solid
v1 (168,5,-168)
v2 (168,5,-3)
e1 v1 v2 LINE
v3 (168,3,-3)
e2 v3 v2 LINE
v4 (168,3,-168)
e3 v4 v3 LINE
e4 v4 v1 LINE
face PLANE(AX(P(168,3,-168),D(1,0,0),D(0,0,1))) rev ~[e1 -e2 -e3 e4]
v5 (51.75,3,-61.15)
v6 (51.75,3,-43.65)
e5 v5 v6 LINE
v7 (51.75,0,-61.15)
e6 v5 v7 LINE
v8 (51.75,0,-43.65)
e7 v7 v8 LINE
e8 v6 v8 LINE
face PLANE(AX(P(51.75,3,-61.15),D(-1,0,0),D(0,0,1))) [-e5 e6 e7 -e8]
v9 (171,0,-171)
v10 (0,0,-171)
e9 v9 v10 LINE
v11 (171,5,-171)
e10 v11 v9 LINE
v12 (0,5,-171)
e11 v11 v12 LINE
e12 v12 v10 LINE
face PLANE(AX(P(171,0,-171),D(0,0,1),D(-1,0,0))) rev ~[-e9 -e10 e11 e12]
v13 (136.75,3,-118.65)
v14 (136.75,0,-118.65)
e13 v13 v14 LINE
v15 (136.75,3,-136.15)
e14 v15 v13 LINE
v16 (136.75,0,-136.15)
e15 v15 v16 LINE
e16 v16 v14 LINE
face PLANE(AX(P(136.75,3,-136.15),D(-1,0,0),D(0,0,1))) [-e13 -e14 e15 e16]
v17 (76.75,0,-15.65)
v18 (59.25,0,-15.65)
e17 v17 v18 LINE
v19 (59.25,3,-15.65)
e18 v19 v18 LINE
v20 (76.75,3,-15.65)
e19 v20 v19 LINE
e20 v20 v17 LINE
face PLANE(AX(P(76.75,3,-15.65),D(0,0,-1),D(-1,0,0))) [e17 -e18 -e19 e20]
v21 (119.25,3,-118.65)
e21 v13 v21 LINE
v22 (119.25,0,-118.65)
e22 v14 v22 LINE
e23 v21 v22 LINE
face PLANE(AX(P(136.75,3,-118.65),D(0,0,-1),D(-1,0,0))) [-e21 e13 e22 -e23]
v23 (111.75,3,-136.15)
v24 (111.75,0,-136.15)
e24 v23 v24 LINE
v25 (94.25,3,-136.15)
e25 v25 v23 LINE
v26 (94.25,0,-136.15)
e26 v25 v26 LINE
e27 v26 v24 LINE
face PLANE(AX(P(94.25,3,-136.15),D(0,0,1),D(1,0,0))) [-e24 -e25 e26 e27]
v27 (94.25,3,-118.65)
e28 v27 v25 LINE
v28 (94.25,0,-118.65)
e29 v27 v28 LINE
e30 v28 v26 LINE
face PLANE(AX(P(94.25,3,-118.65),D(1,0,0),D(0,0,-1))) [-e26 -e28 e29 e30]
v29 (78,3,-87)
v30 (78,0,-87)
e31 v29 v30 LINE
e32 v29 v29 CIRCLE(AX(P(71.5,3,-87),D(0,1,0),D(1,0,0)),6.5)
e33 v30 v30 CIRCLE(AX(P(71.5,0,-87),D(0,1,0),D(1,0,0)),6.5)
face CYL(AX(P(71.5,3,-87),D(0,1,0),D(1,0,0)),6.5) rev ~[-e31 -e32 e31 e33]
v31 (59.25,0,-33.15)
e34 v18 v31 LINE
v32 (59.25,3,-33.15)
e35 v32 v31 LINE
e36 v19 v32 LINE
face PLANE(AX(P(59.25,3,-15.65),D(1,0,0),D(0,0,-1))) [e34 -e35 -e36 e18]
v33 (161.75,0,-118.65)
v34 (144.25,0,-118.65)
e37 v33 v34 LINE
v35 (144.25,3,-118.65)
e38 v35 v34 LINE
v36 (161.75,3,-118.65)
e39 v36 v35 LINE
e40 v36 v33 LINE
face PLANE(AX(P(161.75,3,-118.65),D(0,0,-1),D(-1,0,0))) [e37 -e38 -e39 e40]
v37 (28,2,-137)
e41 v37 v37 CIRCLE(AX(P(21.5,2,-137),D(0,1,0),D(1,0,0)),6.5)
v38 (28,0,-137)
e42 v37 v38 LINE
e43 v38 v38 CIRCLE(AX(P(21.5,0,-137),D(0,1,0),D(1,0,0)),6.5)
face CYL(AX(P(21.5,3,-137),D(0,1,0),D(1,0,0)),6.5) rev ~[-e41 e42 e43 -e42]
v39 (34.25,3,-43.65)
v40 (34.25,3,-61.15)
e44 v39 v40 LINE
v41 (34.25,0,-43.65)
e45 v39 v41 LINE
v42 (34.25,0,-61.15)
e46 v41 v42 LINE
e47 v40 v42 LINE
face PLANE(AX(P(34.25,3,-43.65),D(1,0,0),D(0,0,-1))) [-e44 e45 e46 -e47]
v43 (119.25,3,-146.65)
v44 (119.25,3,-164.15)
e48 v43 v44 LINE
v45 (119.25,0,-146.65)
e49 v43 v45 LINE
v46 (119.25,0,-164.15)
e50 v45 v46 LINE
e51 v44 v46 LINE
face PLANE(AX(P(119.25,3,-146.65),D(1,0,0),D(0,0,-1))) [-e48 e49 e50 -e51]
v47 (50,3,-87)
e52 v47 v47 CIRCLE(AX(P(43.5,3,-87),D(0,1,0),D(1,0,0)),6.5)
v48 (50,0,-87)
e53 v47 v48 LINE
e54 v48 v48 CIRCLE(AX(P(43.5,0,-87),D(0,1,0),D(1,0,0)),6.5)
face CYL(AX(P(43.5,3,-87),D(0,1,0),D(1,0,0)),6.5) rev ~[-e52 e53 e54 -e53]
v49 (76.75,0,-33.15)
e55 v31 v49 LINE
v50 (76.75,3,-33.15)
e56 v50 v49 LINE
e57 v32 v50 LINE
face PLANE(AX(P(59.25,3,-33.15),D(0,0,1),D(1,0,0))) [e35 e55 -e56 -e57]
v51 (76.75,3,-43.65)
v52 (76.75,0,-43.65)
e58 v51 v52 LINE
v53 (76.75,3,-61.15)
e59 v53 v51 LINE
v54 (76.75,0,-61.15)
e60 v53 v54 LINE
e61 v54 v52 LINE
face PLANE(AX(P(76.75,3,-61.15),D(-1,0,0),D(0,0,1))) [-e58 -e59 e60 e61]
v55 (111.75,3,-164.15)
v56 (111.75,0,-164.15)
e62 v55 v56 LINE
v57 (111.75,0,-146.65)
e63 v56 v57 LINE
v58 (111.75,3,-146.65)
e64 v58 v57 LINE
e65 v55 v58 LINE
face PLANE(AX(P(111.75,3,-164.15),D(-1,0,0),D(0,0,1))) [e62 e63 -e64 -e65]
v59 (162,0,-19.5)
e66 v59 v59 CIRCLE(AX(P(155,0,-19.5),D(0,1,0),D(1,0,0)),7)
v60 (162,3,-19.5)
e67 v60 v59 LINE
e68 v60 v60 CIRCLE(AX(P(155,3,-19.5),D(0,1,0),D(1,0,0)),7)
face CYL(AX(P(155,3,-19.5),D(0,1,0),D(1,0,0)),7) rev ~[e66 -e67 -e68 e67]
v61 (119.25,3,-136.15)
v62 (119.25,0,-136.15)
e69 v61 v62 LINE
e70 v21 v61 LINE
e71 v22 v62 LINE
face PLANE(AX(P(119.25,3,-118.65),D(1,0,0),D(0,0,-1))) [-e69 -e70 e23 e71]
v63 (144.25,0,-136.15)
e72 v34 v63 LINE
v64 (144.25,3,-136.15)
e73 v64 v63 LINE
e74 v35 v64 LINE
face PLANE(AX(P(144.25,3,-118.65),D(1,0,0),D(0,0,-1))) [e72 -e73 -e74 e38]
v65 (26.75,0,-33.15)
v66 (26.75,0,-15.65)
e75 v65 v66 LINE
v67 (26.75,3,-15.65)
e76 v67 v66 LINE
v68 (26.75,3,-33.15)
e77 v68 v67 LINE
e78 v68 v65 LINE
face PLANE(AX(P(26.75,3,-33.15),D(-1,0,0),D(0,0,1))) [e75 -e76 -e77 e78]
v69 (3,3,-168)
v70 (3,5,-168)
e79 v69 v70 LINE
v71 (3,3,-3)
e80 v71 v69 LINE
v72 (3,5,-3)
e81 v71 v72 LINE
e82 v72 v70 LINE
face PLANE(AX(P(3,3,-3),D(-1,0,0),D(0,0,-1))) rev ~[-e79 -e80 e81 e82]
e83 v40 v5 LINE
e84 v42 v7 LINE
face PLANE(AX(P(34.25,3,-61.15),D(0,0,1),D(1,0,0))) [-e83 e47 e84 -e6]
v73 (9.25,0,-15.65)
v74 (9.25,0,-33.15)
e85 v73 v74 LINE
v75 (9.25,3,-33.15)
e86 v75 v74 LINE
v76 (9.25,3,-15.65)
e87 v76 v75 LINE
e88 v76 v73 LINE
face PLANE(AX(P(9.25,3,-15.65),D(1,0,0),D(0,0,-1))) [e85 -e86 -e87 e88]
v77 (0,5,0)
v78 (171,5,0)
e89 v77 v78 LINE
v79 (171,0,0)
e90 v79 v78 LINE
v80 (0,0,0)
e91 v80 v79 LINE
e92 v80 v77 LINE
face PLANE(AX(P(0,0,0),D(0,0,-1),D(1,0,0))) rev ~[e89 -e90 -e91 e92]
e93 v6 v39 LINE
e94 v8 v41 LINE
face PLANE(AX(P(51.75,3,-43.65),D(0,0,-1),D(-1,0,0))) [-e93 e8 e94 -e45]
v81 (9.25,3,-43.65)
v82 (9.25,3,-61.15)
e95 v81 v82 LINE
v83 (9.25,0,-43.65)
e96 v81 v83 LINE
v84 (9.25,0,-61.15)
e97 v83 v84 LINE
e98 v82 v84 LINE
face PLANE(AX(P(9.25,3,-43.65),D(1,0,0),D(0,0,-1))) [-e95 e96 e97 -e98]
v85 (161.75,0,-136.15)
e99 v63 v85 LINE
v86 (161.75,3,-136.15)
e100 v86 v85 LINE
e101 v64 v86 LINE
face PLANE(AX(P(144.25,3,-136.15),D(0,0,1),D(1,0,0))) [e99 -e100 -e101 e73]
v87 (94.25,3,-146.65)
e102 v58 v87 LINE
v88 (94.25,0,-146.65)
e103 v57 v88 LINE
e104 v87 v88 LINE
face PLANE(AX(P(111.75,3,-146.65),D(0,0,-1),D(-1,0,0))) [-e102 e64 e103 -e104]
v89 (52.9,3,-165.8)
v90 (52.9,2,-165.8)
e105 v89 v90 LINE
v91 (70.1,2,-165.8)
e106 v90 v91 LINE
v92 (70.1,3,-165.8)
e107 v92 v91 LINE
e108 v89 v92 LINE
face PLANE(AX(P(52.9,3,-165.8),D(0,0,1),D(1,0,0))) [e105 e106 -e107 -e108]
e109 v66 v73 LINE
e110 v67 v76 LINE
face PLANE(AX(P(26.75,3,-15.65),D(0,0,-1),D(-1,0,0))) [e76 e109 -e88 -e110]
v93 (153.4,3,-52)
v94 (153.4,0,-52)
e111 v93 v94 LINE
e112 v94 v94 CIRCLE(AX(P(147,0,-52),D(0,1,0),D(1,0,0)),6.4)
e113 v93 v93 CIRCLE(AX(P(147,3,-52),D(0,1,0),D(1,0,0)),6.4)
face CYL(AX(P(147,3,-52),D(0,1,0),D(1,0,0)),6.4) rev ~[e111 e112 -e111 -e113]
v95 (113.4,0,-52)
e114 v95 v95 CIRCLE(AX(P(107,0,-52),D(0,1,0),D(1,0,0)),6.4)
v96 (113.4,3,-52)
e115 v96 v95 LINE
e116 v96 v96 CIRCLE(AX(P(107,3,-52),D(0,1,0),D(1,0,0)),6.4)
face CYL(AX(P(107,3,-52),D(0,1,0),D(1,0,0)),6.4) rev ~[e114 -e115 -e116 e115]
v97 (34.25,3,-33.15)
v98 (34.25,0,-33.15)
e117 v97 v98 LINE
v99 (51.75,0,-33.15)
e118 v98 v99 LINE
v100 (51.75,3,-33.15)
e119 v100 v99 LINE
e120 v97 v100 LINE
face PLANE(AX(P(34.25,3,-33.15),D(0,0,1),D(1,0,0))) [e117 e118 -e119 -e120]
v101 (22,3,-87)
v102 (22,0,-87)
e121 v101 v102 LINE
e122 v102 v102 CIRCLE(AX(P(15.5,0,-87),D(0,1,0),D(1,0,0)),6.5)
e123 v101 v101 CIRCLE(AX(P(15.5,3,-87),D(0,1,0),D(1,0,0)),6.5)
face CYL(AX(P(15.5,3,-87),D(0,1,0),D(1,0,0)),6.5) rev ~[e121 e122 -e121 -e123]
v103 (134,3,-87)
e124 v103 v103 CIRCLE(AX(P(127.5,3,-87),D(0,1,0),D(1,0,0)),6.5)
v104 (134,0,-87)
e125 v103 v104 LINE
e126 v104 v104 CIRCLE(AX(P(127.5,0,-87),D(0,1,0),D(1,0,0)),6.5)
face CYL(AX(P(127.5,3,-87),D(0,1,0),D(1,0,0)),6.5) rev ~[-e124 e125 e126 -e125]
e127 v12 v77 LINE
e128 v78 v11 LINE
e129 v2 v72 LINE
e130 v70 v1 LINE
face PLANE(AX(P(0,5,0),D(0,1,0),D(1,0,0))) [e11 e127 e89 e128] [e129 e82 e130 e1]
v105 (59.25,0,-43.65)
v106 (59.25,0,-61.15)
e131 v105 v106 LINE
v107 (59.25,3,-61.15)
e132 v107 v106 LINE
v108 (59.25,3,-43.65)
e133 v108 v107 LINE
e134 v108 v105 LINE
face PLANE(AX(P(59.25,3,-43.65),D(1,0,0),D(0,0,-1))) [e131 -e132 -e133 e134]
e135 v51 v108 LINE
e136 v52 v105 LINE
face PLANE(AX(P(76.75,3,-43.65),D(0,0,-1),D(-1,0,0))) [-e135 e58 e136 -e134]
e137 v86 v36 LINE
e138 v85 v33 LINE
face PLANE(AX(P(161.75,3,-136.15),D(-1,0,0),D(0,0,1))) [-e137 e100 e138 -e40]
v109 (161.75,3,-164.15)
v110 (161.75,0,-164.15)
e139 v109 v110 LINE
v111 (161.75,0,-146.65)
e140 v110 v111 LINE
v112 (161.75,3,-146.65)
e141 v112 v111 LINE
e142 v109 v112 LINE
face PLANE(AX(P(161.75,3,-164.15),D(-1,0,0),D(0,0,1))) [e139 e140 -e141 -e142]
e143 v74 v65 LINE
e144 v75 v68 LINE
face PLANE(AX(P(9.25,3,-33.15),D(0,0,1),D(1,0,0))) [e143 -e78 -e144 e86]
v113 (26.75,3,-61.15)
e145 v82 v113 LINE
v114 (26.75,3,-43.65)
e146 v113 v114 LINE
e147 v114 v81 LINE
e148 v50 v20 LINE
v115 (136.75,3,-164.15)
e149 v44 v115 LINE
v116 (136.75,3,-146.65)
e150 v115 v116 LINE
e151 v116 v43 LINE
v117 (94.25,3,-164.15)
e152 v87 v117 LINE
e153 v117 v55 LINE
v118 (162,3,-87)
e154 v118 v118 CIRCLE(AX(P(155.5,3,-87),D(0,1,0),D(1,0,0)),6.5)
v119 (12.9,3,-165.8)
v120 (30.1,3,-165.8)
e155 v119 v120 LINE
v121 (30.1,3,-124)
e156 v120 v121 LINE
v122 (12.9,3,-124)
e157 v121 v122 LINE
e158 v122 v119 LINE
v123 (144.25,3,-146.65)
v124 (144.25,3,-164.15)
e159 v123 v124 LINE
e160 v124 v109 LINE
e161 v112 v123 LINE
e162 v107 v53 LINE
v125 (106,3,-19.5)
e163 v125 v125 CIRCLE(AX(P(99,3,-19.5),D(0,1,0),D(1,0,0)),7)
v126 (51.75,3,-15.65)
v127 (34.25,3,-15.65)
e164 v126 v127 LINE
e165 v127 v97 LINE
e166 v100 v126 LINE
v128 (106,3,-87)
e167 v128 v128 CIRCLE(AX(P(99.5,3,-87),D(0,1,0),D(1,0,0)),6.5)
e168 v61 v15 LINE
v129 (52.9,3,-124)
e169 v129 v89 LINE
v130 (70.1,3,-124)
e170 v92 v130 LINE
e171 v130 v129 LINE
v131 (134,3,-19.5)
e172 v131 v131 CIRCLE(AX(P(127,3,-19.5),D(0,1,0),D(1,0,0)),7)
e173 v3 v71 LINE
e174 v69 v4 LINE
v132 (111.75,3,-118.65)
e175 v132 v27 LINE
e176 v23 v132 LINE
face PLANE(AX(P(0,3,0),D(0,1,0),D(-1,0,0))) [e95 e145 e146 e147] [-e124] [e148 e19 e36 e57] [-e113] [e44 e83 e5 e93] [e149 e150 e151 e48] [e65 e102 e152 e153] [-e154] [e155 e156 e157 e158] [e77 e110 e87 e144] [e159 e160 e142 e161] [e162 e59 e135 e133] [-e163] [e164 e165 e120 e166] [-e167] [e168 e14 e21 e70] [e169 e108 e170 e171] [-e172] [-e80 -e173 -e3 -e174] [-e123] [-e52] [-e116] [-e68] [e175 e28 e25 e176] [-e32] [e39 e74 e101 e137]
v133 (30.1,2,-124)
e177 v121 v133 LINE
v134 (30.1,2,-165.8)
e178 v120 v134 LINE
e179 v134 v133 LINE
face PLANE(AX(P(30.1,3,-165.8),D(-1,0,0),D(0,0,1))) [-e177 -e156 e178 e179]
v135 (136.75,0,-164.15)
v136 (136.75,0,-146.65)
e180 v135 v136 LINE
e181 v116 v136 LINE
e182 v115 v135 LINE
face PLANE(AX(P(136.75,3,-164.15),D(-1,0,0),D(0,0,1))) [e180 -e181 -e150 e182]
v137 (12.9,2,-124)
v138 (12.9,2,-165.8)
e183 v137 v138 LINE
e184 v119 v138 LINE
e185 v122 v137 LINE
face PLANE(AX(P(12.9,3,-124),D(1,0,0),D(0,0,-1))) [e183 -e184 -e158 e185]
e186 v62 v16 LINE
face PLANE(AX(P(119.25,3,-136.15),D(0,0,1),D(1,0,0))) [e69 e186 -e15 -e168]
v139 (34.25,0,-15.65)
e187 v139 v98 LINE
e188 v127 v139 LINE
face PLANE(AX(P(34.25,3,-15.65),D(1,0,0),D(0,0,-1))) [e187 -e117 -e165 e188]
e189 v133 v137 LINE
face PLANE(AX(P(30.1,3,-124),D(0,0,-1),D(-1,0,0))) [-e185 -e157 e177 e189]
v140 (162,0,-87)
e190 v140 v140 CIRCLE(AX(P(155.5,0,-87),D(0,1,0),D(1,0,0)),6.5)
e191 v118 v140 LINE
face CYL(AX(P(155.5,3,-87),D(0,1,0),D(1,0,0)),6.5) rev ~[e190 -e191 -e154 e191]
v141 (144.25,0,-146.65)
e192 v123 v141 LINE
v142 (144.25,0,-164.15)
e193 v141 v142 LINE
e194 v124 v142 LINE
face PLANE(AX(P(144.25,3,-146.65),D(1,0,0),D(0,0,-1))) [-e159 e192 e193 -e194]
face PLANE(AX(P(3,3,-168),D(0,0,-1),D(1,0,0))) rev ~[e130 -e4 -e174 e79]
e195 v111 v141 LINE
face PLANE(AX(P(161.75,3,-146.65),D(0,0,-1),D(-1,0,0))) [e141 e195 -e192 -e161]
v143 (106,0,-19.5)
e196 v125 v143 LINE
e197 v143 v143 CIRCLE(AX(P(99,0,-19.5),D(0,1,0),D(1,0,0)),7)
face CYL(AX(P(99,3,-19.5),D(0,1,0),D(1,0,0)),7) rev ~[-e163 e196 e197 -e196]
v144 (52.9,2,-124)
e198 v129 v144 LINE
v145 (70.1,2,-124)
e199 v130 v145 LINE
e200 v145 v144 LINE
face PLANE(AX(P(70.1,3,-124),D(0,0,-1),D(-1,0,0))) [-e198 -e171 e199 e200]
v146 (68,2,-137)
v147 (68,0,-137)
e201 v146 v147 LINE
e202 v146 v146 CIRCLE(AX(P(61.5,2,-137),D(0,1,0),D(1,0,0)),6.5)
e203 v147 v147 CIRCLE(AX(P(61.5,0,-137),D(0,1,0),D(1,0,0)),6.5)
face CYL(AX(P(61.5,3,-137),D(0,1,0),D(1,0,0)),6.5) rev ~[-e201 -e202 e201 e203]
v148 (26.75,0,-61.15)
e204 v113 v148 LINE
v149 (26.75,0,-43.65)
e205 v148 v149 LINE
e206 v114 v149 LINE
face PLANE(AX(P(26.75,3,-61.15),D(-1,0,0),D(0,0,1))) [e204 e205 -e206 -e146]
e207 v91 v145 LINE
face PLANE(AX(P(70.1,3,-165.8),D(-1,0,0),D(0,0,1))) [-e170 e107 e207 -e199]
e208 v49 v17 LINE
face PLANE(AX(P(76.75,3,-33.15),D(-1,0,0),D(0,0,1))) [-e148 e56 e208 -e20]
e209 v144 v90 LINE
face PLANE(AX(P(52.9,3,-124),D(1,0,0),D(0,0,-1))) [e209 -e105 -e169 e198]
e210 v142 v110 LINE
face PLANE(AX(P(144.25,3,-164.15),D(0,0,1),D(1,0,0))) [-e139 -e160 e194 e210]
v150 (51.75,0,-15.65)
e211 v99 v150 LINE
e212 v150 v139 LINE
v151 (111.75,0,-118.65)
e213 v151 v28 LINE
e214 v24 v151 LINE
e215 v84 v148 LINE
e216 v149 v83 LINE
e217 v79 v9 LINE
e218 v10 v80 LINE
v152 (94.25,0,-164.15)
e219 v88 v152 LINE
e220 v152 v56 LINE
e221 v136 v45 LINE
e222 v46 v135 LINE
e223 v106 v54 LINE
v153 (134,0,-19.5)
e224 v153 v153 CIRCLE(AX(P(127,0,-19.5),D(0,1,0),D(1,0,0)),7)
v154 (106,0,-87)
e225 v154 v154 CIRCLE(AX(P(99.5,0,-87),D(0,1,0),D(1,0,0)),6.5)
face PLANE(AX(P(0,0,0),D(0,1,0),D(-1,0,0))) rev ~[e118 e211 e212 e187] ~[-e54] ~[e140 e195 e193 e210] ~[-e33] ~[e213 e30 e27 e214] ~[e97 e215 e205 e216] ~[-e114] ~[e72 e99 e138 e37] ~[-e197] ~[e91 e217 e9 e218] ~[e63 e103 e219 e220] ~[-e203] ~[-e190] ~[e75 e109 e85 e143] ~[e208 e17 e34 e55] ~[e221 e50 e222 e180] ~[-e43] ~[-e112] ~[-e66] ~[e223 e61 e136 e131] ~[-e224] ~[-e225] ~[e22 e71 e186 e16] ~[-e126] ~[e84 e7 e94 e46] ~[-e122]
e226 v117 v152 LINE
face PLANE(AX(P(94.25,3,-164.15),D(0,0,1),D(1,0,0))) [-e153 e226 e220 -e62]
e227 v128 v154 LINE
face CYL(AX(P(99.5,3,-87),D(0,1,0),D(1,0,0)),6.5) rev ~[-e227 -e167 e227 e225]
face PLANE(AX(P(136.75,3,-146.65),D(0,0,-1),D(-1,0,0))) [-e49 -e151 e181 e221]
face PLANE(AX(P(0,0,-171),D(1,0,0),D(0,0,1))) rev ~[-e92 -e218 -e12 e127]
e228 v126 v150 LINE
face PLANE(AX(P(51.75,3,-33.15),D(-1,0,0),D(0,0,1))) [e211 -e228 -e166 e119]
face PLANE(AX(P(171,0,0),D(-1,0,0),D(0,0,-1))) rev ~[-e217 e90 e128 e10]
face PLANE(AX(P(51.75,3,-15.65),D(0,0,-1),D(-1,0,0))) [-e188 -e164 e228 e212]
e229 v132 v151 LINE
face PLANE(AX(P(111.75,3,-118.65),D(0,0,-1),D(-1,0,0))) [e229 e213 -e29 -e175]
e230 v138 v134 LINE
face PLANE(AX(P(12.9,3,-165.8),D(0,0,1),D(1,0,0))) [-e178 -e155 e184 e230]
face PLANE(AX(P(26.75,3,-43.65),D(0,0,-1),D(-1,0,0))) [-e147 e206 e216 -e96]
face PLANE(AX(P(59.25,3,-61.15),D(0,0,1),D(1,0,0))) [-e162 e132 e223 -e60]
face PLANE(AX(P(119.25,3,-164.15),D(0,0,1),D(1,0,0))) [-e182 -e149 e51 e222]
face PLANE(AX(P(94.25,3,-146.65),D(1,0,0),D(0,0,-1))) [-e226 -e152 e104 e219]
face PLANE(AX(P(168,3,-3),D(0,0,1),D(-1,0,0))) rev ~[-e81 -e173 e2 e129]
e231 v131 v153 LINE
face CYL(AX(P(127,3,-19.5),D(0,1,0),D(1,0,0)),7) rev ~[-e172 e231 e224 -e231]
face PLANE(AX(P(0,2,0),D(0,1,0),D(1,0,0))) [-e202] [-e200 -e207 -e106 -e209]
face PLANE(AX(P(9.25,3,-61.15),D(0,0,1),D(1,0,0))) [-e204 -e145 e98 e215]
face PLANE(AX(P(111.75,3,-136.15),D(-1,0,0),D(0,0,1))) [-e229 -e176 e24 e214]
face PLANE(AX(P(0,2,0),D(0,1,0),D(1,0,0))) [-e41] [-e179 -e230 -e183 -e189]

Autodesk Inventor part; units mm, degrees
ref_plane "YZ Plane" through (0, 0, 0) normal (1, 0, 0) x (0, 1, 0)
ref_plane "XZ Plane" through (0, 0, 0) normal (0, 1, 0) x (-1, 0, 0)
ref_plane "XY Plane" through (0, 0, 0) normal (0, 0, 1) x (1, 0, 0)
sketch "Sketch1" plane through (0, 0, 0) normal (0, 1, 0) x (-1, 0, 0)
  line L0 (0, 0) -> (-171, 0)
  line L1 (-171, 0) -> (-171, -171)
  line L2 (-171, -171) -> (0, -171)
  line L3 (0, -171) -> (0, 0)
  dimension "d0" = 171
  dimension "d1" = 171
extrude "Extrusion1" add sketch "Sketch1" along normal blind 3
sketch "Sketch2" plane through (0, 3, 0) normal (0, 1, 0) x (1, 0, 0)
  line L0 (171, 0) -> (171, 171) projected
  line L1 (171, 171) -> (0, 171) projected
  line L2 (0, 171) -> (0, 0) projected
  line L3 (0, 0) -> (171, 0) projected
  line L4 (3, 3) -> (3, 168)
  line L5 (3, 168) -> (168, 168)
  line L6 (168, 168) -> (168, 3)
  line L7 (168, 3) -> (3, 3)
  dimension "d98" = 165
extrude "Extrusion2" add sketch "Sketch2" along normal blind 2
sketch "Sketch3" plane through (0, 3, 0) normal (0, 1, 0) x (1, 0, 0)
  line L0 (3, 3) -> (168, 3) construction
  line L1 (168, 3) -> (168, 168) construction
  line L2 (168, 168) -> (3, 168) construction
  line L3 (3, 168) -> (3, 3) construction
  line L4 (4, 64) -> (82, 64) construction
  line L5 (82, 64) -> (82, 4) construction
  line L6 (82, 4) -> (4, 4) construction
  line L7 (4, 4) -> (4, 64) construction
  line L8 (89, 107) -> (167, 107) construction
  line L9 (167, 107) -> (167, 167) construction
  line L10 (167, 167) -> (89, 167) construction
  line L11 (89, 167) -> (89, 107) construction
  line L12 (4, 167) -> (79, 167) construction
  line L13 (79, 167) -> (79, 102) construction
  line L14 (4, 72) -> (4, 167) construction
  line L15 (4, 72) -> (167, 72) construction
  line L16 (167, 72) -> (167, 102) construction
  line L17 (167, 102) -> (79, 102) construction
  line L18 (87, 67) -> (167, 67) construction
  line L19 (167, 67) -> (167, 37) construction
  line L20 (167, 37) -> (87, 37) construction
  line L21 (87, 37) -> (87, 67) construction
  line L22 (87, 32) -> (167, 32) construction
  line L23 (167, 32) -> (167, 7) construction
  line L24 (167, 7) -> (87, 7) construction
  line L25 (87, 7) -> (87, 32) construction
  line L26 (9.25, 33.15) -> (26.75, 33.15)
  line L27 (26.75, 33.15) -> (26.75, 15.65)
  line L28 (26.75, 15.65) -> (9.25, 15.65)
  line L29 (9.25, 15.65) -> (9.25, 33.15)
  line L30 (9.25, 61.15) -> (26.75, 61.15)
  line L31 (9.25, 43.65) -> (9.25, 61.15)
  line L32 (26.75, 43.65) -> (9.25, 43.65)
  line L33 (26.75, 61.15) -> (26.75, 43.65)
  line L34 (34.25, 33.15) -> (51.75, 33.15)
  line L35 (34.25, 15.65) -> (34.25, 33.15)
  line L36 (51.75, 15.65) -> (34.25, 15.65)
  line L37 (51.75, 33.15) -> (51.75, 15.65)
  line L38 (34.25, 61.15) -> (51.75, 61.15)
  line L39 (34.25, 43.65) -> (34.25, 61.15)
  line L40 (51.75, 43.65) -> (34.25, 43.65)
  line L41 (51.75, 61.15) -> (51.75, 43.65)
  line L42 (59.25, 33.15) -> (76.75, 33.15)
  line L43 (59.25, 15.65) -> (59.25, 33.15)
  line L44 (76.75, 15.65) -> (59.25, 15.65)
  line L45 (76.75, 33.15) -> (76.75, 15.65)
  line L46 (59.25, 61.15) -> (76.75, 61.15)
  line L47 (59.25, 43.65) -> (59.25, 61.15)
  line L48 (76.75, 43.65) -> (59.25, 43.65)
  line L49 (76.75, 61.15) -> (76.75, 43.65)
  line L50 (9.25, 61.15) -> (9.25, 15.65) construction
  line L51 (9.25, 61.15) -> (76.75, 61.15) construction
  line L52 (94.25, 136.15) -> (111.75, 136.15)
  line L53 (111.75, 136.15) -> (111.75, 118.65)
  line L54 (111.75, 118.65) -> (94.25, 118.65)
  line L55 (94.25, 118.65) -> (94.25, 136.15)
  line L56 (94.25, 164.15) -> (111.75, 164.15)
  line L57 (94.25, 146.65) -> (94.25, 164.15)
  line L58 (111.75, 146.65) -> (94.25, 146.65)
  line L59 (111.75, 164.15) -> (111.75, 146.65)
  line L60 (119.25, 136.15) -> (136.75, 136.15)
  line L61 (119.25, 118.65) -> (119.25, 136.15)
  line L62 (136.75, 118.65) -> (119.25, 118.65)
  line L63 (136.75, 136.15) -> (136.75, 118.65)
  line L64 (119.25, 164.15) -> (136.75, 164.15)
  line L65 (119.25, 146.65) -> (119.25, 164.15)
  line L66 (136.75, 146.65) -> (119.25, 146.65)
  line L67 (136.75, 164.15) -> (136.75, 146.65)
  line L68 (144.25, 136.15) -> (161.75, 136.15)
  line L69 (144.25, 118.65) -> (144.25, 136.15)
  line L70 (161.75, 118.65) -> (144.25, 118.65)
  line L71 (161.75, 136.15) -> (161.75, 118.65)
  line L72 (144.25, 164.15) -> (161.75, 164.15)
  line L73 (144.25, 146.65) -> (144.25, 164.15)
  line L74 (161.75, 146.65) -> (144.25, 146.65)
  line L75 (161.75, 164.15) -> (161.75, 146.65)
  line L76 (94.25, 164.15) -> (94.25, 118.65) construction
  line L77 (94.25, 164.15) -> (161.75, 164.15) construction
  circle A0 centre (107, 52) radius 12.5 construction
  circle A1 centre (147, 52) radius 12.5 construction
  circle A2 centre (107, 52) radius 6.4
  circle A3 centre (147, 52) radius 6.4
  circle A4 centre (99, 19.5) radius 8.1 construction
  circle A5 centre (127, 19.5) radius 8.1 construction
  circle A6 centre (155, 19.5) radius 8.1 construction
  circle A7 centre (99, 19.5) radius 7
  circle A8 centre (127, 19.5) radius 7
  circle A9 centre (155, 19.5) radius 7
  circle A10 centre (155.5, 87) radius 6.5
  circle A11 centre (127.5, 87) radius 6.5
  circle A12 centre (99.5, 87) radius 6.5
  circle A13 centre (71.5, 87) radius 6.5
  circle A14 centre (43.5, 87) radius 6.5
  circle A15 centre (15.5, 87) radius 6.5
  circle A16 centre (61.5, 137) radius 6.5
  circle A17 centre (21.5, 137) radius 6.5
  point P0 (0, 0)
  point P1 (4, 34)
  point P2 (43, 61.15)
  point P3 (43, 64)
  point P4 (18, 43.65)
  point P5 (26.75, 52.4)
  point P6 (128, 164.15)
  point P7 (103, 146.65)
  point P8 (111.75, 155.4)
  point P9 (128, 164.15)
  point P10 (128, 107)
  point P11 (87, 52)
  point P12 (167, 19.5)
  point P13 (167, 87)
  point P14 (79, 134.5)
  point P15 (9.25, 24.4)
  point P16 (94.25, 127.4)
  dimension "d7" = 1
  dimension "d8" = 1
  dimension "d9" = 60
  dimension "d10" = 78
  dimension "d11" = 78
  dimension "d12" = 60
  dimension "d13" = 1
  dimension "d14" = 1
  dimension "d15" = 1
  dimension "d16" = 1
  dimension "d17" = 75
  dimension "d19" = 1
  dimension "d20" = 5
  dimension "d21" = 30
  dimension "d22" = 5
  dimension "d23" = 5
  dimension "d24" = 1
  dimension "d27" = 5
  dimension "d28" = 5
  dimension "d29" = 1
  dimension "d30" = 4
  dimension "d31" = 25
  dimension "d32" = 17.5
  dimension "d33" = 17.5
  dimension "d37" = 28
  dimension "d40" = 25
  dimension "d44" = 5.25
  dimension "d45" = 2.85
  dimension "d46" = 14
  dimension "d47" = 11.6
  dimension "d52" = 17.5
  dimension "d53" = 17.5
  dimension "d54" = 28
  dimension "d55" = 25
  dimension "d57" = 30
  dimension "d58" = 80
  dimension "d59" = 25
  dimension "d60" = 25
  dimension "d61" = 20
  dimension "d62" = 40
  dimension "d63" = 12.8
  dimension "d64" = 12.8
  dimension "d67" = 80
  dimension "d68" = 16.2
  dimension "d69" = 16.2
  dimension "d70" = 16.2
  dimension "d71" = 28
  dimension "d72" = 28
  dimension "d73" = 12
  dimension "d74" = 14
  dimension "d75" = 14
  dimension "d76" = 14
  dimension "d77" = 13
  dimension "d80" = 28
  dimension "d85" = 11.5
  dimension "d86" = 163
  dimension "d87" = 65
  dimension "d88" = 95
  dimension "d89" = 88
  dimension "d90" = 13
  dimension "d91" = 13
  dimension "d92" = 30
  dimension "d93" = 40
  dimension "d94" = 17.5
extrude "Extrusion3" cut sketch "Sketch3" against normal up to surface (3 mm away)
sketch "Sketch5" plane through (0, 3, 0) normal (0, 1, 0) x (1, 0, 0)
  circle A0 centre (21.5, 137) radius 6.5 construction
  circle A1 centre (61.5, 137) radius 6.5 construction
  line L0 (12.9, 165.8) -> (30.1, 165.8)
  line L1 (30.1, 165.8) -> (30.1, 124)
  line L2 (30.1, 124) -> (12.9, 124)
  line L3 (12.9, 124) -> (12.9, 165.8)
  line L4 (70.1, 124) -> (52.9, 124)
  line L5 (52.9, 124) -> (52.9, 165.8)
  line L6 (52.9, 165.8) -> (70.1, 165.8)
  line L7 (70.1, 165.8) -> (70.1, 124)
  point P0 (0, 0)
  point P1 (21.5, 165.8)
  point P2 (61.5, 165.8)
  point P3 (61.5, 124)
  point P4 (21.5, 124)
  dimension "d99" = 13
  dimension "d100" = 28.8
  dimension "d101" = 17.2
  dimension "d102" = 17.2
extrude "Extrusion5" cut sketch "Sketch5" against normal blind 1
equation "\"d8\" = d7"
equation "\"d11\" = d10"
equation "\"d12\" = d9"
equation "\"d13\" = d7"
equation "\"d14\" = d7"
equation "\"d15\" = d7"
equation "\"d16\" = d7"
equation "\"d19\" = d7"
equation "\"d24\" = d7"
equation "\"d29\" = d7"
equation "\"d60\" = d59"
equation "\"d61\" = -0.5 * d62 + 0.5 * d58"
equation "\"d64\" = d63"
equation "\"d69\" = d68"
equation "\"d70\" = d68"
equation "\"d72\" = d71"
equation "\"d73\" = -d71 + 0.5 * d67"
equation "\"d75\" = d74"
equation "\"d76\" = d74"
properties part number "Faceplate"
